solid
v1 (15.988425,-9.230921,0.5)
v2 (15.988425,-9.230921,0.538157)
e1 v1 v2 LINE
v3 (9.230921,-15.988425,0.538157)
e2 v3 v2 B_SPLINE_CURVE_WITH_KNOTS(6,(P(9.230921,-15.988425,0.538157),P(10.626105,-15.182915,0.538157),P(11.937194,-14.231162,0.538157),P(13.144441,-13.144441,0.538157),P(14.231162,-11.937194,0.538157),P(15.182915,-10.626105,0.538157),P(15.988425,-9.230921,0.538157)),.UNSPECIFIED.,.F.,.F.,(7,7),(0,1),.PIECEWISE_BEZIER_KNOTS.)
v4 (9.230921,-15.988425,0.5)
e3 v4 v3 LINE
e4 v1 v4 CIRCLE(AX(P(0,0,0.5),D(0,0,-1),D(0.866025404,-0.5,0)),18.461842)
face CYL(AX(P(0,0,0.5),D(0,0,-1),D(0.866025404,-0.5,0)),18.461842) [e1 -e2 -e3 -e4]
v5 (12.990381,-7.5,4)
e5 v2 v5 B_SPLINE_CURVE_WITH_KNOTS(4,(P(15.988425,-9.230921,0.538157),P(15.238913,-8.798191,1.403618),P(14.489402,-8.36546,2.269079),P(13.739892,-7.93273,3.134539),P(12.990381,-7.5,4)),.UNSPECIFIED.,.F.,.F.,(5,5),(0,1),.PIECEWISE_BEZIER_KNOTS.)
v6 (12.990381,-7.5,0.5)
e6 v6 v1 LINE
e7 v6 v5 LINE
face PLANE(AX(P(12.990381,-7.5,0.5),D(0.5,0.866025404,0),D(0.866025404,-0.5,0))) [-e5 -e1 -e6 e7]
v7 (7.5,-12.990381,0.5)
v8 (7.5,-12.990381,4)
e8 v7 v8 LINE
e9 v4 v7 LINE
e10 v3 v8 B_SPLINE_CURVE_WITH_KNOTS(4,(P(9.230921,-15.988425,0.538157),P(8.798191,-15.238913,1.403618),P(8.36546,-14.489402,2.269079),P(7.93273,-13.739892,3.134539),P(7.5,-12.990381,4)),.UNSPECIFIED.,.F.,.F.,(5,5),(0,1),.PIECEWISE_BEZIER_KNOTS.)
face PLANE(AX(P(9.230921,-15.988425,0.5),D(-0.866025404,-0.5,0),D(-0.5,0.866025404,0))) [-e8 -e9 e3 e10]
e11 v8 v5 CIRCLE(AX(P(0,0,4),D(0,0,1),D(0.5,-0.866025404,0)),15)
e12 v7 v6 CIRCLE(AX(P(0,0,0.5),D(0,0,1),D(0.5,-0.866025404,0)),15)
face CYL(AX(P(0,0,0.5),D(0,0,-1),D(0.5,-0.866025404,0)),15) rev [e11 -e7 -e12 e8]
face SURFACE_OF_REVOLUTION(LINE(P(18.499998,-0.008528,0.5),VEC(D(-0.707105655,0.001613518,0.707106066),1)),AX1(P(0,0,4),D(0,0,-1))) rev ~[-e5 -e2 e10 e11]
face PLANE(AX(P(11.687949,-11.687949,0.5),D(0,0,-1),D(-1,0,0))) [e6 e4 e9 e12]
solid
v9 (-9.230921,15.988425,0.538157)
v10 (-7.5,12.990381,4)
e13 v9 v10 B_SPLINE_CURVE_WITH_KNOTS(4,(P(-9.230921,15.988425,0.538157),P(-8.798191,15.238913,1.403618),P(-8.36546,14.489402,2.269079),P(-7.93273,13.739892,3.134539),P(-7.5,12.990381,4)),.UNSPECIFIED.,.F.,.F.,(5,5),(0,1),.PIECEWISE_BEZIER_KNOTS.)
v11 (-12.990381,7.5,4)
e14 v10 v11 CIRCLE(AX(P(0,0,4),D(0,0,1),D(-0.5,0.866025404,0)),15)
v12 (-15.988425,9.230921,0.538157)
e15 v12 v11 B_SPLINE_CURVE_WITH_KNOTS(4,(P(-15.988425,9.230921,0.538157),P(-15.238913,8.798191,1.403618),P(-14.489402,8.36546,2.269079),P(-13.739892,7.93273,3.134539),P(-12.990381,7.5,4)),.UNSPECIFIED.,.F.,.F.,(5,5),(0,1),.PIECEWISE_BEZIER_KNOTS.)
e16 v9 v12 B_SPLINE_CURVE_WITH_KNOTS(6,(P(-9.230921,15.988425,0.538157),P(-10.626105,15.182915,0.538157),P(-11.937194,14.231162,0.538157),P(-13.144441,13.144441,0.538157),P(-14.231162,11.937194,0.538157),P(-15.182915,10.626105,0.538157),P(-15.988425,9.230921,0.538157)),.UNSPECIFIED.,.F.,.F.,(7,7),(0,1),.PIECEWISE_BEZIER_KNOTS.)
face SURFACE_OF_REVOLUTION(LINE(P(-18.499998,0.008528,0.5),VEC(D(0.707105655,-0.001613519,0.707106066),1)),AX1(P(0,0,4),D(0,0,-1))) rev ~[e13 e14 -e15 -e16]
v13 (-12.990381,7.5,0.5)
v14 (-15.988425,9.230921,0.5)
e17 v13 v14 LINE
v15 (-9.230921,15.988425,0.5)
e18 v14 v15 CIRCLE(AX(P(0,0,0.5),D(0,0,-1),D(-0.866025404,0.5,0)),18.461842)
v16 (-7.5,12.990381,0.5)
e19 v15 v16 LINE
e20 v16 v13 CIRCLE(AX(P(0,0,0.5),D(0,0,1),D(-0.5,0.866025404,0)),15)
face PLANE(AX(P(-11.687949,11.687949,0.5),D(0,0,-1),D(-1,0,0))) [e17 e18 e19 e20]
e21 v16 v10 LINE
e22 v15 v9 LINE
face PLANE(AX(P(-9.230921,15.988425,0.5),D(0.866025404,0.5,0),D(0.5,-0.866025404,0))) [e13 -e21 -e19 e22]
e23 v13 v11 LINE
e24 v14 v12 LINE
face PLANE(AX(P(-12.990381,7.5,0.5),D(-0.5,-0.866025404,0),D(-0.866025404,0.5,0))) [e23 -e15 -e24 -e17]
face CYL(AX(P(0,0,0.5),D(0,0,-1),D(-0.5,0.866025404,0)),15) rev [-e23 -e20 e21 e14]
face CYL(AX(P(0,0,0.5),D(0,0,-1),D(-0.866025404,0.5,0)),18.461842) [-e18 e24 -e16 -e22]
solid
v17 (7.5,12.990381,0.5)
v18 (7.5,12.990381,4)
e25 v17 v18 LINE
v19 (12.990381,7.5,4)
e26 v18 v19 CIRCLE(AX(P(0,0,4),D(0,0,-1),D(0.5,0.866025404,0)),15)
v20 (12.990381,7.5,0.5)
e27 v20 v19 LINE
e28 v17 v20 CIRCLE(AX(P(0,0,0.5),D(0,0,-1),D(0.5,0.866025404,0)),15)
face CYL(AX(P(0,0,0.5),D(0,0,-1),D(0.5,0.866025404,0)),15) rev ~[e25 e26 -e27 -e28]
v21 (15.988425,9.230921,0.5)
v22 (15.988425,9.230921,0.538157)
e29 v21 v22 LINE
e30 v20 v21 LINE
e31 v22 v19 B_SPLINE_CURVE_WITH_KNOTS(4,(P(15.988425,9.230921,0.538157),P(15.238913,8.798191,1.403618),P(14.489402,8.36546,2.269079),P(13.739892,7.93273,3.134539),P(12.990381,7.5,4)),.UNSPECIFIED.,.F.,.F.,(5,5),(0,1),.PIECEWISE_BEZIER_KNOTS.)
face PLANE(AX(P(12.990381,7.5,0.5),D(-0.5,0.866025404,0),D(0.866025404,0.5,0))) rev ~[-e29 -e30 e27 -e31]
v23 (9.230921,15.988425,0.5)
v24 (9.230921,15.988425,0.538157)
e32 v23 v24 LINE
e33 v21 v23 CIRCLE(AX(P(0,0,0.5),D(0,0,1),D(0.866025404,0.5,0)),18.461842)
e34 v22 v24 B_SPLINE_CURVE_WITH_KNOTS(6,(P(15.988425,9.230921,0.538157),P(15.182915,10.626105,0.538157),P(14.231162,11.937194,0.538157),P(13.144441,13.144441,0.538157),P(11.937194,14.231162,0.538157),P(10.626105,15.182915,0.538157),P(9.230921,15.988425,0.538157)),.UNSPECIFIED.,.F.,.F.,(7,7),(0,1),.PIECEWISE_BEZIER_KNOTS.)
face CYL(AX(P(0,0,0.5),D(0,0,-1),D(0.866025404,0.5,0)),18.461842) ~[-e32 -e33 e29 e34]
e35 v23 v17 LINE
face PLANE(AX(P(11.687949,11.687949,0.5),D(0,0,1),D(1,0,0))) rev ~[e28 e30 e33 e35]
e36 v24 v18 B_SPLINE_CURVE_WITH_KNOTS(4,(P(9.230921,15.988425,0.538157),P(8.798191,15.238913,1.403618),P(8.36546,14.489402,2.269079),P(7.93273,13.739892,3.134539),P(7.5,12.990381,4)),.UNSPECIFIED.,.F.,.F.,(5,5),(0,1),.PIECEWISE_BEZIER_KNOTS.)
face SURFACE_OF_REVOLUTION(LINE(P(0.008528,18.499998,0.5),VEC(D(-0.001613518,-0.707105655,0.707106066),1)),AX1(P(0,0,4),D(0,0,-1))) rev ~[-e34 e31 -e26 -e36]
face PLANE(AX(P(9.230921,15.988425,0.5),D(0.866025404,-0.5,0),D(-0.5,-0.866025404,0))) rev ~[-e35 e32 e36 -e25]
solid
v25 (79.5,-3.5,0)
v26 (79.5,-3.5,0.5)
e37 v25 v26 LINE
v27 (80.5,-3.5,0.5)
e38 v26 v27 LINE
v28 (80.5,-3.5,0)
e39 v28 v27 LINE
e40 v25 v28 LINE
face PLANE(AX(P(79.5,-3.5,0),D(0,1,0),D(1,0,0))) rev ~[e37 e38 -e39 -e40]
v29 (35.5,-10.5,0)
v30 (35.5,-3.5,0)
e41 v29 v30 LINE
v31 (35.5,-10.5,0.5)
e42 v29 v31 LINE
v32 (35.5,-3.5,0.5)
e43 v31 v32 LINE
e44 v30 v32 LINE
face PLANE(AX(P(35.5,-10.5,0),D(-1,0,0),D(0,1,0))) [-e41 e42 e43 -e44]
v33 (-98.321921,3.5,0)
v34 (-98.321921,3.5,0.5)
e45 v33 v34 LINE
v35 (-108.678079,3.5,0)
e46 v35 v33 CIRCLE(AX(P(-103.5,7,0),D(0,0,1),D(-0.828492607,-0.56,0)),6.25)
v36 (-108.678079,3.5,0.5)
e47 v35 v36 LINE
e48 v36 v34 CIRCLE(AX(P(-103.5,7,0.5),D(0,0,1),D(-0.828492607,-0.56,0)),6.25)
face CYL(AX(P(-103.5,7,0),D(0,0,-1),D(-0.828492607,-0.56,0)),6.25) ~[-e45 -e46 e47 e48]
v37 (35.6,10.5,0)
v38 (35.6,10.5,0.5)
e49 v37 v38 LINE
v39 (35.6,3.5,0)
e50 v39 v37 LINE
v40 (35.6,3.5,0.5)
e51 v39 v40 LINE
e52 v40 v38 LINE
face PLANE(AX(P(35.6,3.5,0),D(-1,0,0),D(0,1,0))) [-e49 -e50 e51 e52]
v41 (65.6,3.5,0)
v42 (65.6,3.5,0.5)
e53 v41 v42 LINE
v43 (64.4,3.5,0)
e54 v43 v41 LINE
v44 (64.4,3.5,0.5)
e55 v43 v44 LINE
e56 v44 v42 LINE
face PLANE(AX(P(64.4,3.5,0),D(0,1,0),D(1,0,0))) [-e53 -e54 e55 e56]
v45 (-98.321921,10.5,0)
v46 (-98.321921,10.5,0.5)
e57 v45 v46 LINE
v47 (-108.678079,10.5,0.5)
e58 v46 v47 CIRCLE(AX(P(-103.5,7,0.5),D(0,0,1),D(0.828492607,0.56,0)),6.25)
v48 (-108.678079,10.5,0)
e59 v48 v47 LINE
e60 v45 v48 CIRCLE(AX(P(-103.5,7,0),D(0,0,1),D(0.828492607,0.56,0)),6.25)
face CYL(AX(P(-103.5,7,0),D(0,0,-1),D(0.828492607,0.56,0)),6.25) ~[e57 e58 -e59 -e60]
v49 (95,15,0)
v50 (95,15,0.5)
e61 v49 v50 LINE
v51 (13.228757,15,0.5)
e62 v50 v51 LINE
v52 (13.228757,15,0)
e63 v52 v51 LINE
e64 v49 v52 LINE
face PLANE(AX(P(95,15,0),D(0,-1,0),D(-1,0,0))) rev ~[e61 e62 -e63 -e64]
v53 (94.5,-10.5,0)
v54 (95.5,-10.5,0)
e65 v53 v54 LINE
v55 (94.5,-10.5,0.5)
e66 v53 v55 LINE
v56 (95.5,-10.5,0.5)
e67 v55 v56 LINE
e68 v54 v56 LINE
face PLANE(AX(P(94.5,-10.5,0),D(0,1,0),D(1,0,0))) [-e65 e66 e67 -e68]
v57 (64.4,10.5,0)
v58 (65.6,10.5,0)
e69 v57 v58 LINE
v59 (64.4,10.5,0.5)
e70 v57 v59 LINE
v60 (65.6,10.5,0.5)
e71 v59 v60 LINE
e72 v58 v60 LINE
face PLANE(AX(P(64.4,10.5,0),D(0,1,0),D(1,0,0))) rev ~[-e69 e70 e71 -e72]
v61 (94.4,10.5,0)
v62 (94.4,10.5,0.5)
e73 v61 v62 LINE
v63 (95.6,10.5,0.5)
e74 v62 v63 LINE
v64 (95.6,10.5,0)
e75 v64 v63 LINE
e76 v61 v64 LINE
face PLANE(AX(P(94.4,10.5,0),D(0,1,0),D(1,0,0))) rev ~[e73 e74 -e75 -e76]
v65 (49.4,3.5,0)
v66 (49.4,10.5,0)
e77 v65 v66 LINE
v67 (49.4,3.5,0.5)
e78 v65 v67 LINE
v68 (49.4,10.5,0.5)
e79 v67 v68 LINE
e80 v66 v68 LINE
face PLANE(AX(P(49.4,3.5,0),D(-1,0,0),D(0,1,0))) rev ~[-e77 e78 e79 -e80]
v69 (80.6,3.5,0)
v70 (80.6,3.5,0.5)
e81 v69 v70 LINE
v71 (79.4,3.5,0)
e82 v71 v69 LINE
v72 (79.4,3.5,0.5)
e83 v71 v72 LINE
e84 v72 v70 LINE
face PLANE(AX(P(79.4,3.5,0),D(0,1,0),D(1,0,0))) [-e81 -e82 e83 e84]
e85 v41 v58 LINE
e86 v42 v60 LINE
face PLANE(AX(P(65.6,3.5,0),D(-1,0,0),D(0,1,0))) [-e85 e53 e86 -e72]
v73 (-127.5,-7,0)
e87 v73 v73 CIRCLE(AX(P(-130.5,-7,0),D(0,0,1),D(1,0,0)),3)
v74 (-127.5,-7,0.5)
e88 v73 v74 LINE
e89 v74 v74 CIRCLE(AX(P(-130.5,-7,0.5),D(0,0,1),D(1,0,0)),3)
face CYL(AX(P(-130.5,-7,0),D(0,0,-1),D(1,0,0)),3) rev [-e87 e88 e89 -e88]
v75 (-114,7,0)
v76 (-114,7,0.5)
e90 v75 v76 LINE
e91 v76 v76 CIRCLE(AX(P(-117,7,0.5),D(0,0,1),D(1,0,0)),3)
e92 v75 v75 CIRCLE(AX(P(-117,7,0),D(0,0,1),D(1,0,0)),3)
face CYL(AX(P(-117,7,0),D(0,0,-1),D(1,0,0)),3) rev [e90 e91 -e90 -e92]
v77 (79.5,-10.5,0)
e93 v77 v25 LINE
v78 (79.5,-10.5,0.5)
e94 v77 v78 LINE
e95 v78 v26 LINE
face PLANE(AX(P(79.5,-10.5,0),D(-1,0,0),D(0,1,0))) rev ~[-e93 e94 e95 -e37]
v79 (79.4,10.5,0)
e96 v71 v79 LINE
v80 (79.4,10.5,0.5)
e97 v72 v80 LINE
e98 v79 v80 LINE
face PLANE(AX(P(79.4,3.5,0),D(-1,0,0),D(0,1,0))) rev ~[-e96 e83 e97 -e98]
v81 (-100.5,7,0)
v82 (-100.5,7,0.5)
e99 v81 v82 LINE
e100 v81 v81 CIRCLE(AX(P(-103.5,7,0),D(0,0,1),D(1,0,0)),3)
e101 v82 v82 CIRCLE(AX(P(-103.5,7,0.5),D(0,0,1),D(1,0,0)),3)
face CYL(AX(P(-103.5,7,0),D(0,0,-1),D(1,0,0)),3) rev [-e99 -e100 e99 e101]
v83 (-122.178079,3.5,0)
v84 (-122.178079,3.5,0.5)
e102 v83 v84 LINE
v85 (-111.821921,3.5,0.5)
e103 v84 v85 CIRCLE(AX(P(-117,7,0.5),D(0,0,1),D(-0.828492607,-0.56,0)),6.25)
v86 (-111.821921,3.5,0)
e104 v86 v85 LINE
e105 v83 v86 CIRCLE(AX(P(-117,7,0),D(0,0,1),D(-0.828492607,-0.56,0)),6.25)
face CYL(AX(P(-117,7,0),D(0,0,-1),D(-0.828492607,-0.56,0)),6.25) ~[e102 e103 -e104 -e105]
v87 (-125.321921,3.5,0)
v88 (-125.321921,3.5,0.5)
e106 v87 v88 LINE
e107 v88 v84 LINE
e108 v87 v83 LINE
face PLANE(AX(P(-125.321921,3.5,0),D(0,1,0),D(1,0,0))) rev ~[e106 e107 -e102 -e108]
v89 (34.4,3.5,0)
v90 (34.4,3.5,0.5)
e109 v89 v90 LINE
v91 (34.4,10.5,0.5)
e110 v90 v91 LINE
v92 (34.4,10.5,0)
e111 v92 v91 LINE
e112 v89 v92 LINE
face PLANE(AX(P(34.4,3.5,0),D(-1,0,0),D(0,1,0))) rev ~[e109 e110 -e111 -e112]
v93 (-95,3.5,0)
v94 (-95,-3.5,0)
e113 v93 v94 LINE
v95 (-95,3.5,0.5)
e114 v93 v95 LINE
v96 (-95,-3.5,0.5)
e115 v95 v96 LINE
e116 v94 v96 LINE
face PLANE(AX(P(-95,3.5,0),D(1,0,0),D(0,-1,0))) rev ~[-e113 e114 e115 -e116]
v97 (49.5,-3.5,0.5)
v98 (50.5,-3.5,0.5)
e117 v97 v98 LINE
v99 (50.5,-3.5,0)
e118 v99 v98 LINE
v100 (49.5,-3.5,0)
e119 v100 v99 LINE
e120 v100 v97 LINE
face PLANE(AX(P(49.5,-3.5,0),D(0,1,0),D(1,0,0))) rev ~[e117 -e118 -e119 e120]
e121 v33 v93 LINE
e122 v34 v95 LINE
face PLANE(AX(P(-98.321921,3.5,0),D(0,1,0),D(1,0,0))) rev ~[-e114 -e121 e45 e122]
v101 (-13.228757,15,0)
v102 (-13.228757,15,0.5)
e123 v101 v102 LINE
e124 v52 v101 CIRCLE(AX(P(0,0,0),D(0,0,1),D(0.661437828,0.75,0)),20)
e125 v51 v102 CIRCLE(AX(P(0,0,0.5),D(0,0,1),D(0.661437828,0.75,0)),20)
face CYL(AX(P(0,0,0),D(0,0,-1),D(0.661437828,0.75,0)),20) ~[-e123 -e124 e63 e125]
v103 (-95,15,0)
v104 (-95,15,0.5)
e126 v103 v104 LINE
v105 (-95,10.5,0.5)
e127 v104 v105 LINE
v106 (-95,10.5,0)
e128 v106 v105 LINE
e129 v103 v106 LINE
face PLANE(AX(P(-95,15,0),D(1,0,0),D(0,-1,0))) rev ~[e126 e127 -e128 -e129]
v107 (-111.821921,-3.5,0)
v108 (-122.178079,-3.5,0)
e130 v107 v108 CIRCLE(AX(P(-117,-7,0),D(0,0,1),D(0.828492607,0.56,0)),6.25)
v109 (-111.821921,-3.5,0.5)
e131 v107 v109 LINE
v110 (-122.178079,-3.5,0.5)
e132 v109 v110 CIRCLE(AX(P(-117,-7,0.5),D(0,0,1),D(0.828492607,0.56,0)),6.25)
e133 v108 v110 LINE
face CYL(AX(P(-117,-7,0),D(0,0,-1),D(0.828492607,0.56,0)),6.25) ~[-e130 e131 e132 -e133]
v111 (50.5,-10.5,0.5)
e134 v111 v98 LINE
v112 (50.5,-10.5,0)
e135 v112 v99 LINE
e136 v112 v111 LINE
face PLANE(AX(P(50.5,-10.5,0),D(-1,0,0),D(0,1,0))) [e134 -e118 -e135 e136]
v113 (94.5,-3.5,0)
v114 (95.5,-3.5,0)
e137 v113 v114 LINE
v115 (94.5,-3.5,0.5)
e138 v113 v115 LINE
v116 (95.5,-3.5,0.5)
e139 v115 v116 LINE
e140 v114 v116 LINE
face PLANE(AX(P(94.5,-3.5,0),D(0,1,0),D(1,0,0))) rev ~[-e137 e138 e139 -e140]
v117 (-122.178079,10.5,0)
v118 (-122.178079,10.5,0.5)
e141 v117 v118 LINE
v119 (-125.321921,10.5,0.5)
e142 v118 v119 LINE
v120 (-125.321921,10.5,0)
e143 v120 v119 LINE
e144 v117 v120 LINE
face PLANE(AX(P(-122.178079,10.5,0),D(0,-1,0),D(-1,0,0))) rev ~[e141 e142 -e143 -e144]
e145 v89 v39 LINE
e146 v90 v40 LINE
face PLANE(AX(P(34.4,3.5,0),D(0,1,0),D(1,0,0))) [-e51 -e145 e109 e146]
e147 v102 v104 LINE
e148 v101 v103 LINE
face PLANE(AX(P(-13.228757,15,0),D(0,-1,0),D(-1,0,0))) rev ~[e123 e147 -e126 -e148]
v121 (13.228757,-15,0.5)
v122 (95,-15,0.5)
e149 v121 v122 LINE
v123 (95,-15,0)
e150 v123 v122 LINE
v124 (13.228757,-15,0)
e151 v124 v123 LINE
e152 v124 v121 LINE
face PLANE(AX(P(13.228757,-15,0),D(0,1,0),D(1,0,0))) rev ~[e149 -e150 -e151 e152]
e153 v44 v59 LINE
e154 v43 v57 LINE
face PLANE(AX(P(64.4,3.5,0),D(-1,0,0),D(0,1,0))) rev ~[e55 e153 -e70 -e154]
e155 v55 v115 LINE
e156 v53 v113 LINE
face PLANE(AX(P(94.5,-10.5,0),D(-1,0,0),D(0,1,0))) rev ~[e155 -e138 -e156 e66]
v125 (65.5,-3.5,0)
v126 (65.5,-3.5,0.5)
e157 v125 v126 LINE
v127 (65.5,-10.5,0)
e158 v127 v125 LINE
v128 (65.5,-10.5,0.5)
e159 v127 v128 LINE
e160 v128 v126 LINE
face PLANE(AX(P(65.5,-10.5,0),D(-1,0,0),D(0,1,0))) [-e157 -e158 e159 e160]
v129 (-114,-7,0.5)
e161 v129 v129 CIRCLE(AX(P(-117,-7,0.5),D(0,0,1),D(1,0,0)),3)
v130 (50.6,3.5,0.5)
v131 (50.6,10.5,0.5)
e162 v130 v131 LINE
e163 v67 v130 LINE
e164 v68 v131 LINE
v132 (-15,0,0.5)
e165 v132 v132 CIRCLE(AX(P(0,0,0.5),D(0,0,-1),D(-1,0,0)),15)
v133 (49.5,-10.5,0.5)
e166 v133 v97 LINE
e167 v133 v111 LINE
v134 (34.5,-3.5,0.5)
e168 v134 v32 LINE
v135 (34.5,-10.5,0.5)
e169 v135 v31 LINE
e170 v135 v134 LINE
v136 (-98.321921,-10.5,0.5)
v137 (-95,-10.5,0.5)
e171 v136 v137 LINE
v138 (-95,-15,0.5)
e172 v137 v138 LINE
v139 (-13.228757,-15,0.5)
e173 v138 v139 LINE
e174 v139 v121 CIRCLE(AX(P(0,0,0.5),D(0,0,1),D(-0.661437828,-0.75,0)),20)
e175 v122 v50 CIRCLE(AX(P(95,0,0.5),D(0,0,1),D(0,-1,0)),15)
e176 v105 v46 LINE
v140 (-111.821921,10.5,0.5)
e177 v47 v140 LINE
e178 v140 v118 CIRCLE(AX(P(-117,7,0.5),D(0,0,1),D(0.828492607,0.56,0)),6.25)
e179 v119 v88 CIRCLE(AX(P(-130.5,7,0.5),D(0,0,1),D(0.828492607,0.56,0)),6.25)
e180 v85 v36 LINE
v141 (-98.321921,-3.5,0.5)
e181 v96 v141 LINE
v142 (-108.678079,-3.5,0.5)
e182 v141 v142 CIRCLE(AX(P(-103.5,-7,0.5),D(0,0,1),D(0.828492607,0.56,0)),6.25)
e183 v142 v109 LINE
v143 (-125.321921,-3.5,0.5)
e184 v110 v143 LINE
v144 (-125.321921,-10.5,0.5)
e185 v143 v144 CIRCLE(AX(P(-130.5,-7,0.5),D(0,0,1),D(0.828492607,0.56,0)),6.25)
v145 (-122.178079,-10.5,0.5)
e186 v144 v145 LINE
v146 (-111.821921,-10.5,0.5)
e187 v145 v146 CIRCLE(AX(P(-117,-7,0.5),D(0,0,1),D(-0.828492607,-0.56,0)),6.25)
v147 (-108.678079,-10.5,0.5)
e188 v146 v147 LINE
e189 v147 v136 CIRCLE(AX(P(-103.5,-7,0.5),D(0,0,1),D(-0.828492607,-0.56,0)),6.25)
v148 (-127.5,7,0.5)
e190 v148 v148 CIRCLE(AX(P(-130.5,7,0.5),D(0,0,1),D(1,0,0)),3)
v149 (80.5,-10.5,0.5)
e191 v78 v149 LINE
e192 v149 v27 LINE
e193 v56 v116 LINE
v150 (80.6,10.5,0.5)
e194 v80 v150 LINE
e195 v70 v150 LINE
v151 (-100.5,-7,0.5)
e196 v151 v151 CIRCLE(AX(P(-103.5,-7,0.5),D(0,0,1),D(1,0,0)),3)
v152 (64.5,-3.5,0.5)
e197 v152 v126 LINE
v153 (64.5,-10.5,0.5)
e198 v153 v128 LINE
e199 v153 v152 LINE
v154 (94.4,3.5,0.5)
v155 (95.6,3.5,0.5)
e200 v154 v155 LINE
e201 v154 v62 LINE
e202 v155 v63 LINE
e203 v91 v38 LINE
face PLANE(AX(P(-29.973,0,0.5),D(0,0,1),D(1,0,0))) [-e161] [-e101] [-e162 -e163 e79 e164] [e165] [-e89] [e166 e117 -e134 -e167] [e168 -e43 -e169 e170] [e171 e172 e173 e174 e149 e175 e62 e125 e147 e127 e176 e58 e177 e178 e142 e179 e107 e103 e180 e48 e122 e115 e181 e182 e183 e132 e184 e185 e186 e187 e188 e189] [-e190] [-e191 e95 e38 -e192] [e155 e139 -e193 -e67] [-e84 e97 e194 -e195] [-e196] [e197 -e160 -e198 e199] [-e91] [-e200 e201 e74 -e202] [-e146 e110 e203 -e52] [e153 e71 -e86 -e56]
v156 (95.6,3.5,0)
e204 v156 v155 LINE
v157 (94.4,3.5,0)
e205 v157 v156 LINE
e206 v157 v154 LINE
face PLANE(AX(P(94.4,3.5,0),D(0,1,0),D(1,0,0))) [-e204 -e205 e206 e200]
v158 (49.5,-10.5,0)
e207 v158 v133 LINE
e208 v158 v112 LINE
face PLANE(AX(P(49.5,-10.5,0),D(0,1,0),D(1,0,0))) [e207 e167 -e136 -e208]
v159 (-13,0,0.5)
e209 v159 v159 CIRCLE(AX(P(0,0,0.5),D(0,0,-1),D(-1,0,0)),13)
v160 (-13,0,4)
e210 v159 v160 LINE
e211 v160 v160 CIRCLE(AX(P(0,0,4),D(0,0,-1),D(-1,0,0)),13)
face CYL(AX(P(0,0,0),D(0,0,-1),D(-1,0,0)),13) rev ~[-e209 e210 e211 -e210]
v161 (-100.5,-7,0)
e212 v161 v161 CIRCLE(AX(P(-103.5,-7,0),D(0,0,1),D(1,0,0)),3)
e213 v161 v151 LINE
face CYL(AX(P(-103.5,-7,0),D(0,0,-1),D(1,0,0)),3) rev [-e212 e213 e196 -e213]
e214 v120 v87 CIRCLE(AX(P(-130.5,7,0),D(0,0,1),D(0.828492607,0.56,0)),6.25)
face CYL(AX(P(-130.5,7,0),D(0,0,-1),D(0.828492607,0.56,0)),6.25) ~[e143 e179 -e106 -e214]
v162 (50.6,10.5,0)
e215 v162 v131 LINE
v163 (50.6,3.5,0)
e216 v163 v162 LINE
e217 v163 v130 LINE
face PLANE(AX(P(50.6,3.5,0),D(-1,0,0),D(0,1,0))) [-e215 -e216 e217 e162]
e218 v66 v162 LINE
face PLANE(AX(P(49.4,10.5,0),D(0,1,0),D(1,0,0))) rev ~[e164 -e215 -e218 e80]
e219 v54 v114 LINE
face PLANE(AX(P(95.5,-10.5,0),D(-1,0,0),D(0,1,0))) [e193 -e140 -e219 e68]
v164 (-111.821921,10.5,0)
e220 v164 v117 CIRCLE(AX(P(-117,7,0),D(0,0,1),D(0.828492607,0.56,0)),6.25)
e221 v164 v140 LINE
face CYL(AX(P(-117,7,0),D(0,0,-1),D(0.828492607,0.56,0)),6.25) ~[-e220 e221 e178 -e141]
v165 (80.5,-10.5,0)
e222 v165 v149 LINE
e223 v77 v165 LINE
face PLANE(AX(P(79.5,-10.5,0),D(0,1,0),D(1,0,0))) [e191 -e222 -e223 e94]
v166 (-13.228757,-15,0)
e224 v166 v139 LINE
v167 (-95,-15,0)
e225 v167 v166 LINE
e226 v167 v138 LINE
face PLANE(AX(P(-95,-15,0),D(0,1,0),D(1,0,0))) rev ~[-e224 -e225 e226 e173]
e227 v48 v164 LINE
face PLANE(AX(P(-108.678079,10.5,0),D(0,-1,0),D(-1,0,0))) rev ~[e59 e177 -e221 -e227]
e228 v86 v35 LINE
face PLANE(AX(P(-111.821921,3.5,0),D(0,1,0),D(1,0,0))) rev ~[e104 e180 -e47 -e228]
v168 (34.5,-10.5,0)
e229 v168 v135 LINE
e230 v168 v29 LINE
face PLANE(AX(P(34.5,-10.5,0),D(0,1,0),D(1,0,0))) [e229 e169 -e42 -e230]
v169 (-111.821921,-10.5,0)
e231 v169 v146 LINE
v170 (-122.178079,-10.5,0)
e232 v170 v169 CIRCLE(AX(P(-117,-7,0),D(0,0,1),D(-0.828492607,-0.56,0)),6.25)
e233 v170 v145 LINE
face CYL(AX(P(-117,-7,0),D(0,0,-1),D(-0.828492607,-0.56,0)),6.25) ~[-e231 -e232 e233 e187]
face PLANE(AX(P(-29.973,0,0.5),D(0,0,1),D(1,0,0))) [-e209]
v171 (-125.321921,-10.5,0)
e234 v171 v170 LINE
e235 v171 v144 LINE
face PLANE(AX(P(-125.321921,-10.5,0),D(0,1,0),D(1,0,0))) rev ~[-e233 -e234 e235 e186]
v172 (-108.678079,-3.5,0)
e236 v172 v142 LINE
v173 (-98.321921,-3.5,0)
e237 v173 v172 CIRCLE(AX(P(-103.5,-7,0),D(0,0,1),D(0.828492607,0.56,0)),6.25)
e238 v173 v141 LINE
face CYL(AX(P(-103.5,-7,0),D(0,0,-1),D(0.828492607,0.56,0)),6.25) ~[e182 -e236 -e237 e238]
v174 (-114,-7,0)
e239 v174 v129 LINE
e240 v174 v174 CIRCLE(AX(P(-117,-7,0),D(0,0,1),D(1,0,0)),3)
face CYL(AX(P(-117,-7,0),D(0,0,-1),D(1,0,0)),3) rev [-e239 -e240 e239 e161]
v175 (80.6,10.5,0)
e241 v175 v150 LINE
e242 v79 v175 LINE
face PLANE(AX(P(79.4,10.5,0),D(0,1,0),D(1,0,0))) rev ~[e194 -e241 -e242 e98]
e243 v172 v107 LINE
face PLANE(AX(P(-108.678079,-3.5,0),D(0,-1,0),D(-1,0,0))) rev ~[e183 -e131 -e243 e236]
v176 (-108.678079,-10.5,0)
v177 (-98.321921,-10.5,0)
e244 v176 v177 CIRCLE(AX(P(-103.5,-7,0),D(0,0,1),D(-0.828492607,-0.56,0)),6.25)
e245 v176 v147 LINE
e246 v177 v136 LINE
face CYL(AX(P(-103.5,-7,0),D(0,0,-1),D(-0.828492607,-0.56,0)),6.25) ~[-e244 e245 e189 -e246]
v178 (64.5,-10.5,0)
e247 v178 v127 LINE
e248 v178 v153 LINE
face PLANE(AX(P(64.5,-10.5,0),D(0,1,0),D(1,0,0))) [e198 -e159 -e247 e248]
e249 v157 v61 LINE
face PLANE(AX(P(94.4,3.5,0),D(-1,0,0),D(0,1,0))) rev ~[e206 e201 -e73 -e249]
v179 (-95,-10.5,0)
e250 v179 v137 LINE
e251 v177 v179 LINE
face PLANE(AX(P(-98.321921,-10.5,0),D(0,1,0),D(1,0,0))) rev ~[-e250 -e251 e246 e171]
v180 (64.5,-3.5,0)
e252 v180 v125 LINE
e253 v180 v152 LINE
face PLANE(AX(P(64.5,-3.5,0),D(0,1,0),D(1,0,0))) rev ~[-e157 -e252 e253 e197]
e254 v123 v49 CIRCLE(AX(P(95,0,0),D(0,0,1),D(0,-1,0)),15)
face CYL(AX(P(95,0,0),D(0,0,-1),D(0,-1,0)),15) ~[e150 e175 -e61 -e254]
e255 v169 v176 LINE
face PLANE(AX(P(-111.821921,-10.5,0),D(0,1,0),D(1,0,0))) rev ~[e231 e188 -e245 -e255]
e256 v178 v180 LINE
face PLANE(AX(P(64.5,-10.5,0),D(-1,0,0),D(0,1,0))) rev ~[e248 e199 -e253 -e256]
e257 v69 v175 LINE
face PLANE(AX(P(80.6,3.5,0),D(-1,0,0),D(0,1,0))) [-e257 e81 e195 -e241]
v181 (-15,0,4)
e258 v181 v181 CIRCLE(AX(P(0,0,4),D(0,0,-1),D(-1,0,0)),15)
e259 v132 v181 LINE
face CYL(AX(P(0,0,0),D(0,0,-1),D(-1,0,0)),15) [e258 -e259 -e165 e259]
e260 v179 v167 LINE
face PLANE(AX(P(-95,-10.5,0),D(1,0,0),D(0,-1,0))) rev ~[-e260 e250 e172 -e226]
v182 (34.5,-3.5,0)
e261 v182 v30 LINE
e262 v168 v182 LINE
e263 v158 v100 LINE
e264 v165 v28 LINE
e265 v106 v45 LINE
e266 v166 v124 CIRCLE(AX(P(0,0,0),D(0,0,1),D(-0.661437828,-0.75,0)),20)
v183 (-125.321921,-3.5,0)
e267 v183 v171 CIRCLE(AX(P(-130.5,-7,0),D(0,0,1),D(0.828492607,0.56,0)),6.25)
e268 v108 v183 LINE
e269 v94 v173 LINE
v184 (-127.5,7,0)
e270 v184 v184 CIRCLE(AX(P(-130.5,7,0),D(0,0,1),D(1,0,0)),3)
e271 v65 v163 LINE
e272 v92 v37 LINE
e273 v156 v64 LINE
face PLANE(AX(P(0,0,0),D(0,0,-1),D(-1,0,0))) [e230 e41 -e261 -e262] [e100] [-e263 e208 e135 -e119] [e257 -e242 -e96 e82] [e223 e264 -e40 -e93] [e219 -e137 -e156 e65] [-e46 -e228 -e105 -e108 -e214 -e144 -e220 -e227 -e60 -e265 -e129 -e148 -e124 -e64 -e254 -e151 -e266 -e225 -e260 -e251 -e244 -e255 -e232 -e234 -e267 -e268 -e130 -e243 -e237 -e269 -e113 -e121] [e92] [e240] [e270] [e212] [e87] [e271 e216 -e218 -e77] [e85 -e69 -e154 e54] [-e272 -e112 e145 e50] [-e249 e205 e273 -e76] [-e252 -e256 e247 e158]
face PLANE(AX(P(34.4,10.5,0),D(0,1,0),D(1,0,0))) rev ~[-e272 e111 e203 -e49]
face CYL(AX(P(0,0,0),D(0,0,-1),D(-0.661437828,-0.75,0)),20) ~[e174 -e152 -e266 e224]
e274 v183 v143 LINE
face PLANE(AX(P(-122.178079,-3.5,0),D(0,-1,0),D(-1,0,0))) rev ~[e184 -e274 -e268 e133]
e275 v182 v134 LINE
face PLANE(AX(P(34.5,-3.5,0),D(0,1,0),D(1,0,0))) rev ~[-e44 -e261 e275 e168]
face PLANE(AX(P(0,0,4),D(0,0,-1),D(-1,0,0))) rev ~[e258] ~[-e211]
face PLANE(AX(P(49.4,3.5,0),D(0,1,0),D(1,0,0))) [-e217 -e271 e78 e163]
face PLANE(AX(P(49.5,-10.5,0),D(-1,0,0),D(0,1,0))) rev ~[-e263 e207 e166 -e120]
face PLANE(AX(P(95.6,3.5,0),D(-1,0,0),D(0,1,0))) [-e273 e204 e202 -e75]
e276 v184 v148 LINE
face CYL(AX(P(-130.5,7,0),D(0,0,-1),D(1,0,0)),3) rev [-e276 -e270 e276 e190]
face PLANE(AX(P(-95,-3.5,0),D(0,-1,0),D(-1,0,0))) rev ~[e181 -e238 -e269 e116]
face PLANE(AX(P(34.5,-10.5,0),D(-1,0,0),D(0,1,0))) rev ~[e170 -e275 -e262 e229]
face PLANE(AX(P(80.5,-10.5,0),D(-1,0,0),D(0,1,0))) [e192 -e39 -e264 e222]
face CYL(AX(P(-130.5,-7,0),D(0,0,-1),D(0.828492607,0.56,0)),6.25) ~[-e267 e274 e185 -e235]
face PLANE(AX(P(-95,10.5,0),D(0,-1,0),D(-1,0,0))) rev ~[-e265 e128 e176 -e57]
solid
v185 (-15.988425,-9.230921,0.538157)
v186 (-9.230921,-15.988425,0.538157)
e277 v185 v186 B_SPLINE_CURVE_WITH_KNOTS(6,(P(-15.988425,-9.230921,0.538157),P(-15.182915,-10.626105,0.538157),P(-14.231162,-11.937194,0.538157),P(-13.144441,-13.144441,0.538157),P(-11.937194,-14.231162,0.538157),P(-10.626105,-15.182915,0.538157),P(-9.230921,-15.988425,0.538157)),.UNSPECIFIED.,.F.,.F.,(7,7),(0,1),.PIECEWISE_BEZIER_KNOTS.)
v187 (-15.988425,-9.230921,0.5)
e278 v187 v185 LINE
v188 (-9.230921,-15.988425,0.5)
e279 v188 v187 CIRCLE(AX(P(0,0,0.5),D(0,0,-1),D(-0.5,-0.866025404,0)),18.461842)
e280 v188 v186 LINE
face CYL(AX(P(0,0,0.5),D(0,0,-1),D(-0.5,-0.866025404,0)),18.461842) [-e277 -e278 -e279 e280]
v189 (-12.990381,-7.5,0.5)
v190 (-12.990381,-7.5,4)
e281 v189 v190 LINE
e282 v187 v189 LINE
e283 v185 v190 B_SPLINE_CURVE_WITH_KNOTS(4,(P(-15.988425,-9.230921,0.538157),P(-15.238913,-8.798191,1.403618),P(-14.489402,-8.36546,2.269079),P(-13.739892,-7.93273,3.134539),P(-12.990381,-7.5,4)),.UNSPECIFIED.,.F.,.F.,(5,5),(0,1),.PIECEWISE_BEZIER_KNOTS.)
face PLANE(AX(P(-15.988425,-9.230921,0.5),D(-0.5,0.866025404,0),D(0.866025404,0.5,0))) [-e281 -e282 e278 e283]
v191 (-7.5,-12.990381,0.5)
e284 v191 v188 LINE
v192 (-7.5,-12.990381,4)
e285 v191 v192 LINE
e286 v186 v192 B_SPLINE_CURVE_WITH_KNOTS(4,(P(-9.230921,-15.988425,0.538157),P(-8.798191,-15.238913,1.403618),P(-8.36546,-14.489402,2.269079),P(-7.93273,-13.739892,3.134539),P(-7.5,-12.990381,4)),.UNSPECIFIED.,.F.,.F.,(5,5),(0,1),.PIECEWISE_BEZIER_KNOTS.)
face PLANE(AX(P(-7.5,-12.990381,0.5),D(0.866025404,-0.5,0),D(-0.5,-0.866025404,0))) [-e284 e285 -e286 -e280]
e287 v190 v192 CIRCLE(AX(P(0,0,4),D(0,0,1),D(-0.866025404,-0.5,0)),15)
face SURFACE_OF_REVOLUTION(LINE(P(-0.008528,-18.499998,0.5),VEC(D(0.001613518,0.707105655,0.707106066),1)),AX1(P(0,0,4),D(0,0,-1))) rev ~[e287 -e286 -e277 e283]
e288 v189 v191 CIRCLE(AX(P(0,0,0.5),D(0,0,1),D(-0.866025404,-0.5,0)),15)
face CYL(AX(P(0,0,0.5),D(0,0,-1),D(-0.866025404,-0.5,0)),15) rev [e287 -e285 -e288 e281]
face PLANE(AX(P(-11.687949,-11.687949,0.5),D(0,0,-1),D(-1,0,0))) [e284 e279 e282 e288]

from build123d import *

# Parameters (mm, degrees)
SKETCH_1_R        = 3
SKETCH_1_W        = 1
SKETCH_1_H        = 7
SKETCH_1_W_2      = 1.2
EXTRUDE_2_DEPTH   = 0.5
SKETCH_3_R        = 15
SKETCH_3_R_2      = 13
EXTRUDE_3_DEPTH   = 4
EXTRUDE_4_DEPTH   = 3.5
EXTRUDE_4_2_DEPTH = 3.5
EXTRUDE_4_3_DEPTH = 3.5
EXTRUDE_4_4_DEPTH = 3.5


with BuildPart() as part:
    # Эскиз1 → Бобышка-Вытянуть2 (new body)
    with BuildSketch(Plane.XY):
        with BuildLine():
            Line((95, 15), (13.228756555, 15))
            ThreePointArc((13.228756555, 15), (0, 20), (-13.228756555, 15))
            Line((-13.228756555, 15), (-95, 15))
            Line((-95, 15), (-95, 10.5))
            Line((-95, 10.5), (-98.321921206, 10.5))
            ThreePointArc((-98.321921206, 10.5), (-103.5, 13.25), (-108.678078794, 10.5))
            Line((-108.678078794, 10.5), (-111.821921206, 10.5))
            ThreePointArc((-111.821921206, 10.5), (-117, 13.25), (-122.178078794, 10.5))
            Line((-122.178078794, 10.5), (-125.321921206, 10.5))
            ThreePointArc((-125.321921206, 10.5), (-136.75, 7), (-125.321921206, 3.5))
            Line((-125.321921206, 3.5), (-122.178078794, 3.5))
            ThreePointArc((-122.178078794, 3.5), (-117, 0.75), (-111.821921206, 3.5))
            Line((-111.821921206, 3.5), (-108.678078794, 3.5))
            ThreePointArc((-108.678078794, 3.5), (-103.5, 0.75), (-98.321921206, 3.5))
            Line((-98.321921206, 3.5), (-95, 3.5))
            Line((-95, 3.5), (-95, -3.5))
            Line((-95, -3.5), (-98.321921206, -3.5))
            ThreePointArc((-98.321921206, -3.5), (-103.5, -0.75), (-108.678078794, -3.5))
            Line((-108.678078794, -3.5), (-111.821921206, -3.5))
            ThreePointArc((-111.821921206, -3.5), (-117, -0.75), (-122.178078794, -3.5))
            Line((-122.178078794, -3.5), (-125.321921206, -3.5))
            ThreePointArc((-125.321921206, -3.5), (-136.75, -7), (-125.321921206, -10.5))
            Line((-125.321921206, -10.5), (-122.178078794, -10.5))
            ThreePointArc((-122.178078794, -10.5), (-117, -13.25), (-111.821921206, -10.5))
            Line((-111.821921206, -10.5), (-108.678078794, -10.5))
            ThreePointArc((-108.678078794, -10.5), (-103.5, -13.25), (-98.321921206, -10.5))
            Line((-98.321921206, -10.5), (-95, -10.5))
            Line((-95, -10.5), (-95, -15))
            Line((-95, -15), (-13.228756555, -15))
            ThreePointArc((-13.228756555, -15), (0, -20), (13.228756555, -15))
            Line((13.228756555, -15), (95, -15))
            ThreePointArc((95, -15), (110, 0), (95, 15))
        make_face()
        with Locations((-130.5, -7)):
            Circle(SKETCH_1_R, mode=Mode.SUBTRACT)
        with Locations((-117, -7)):
            Circle(SKETCH_1_R, mode=Mode.SUBTRACT)
        with Locations((-103.5, -7)):
            Circle(SKETCH_1_R, mode=Mode.SUBTRACT)
        with Locations((35, -7)):
            Rectangle(SKETCH_1_W, SKETCH_1_H, mode=Mode.SUBTRACT)
        with Locations((50, -7)):
            Rectangle(SKETCH_1_W, SKETCH_1_H, mode=Mode.SUBTRACT)
        with Locations((65, -7)):
            Rectangle(SKETCH_1_W, SKETCH_1_H, mode=Mode.SUBTRACT)
        with Locations((80, -7)):
            Rectangle(SKETCH_1_W, SKETCH_1_H, mode=Mode.SUBTRACT)
        with Locations((95, -7)):
            Rectangle(SKETCH_1_W, SKETCH_1_H, mode=Mode.SUBTRACT)
        with Locations((-130.5, 7)):
            Circle(SKETCH_1_R, mode=Mode.SUBTRACT)
        with Locations((-117, 7)):
            Circle(SKETCH_1_R, mode=Mode.SUBTRACT)
        with Locations((-103.5, 7)):
            Circle(SKETCH_1_R, mode=Mode.SUBTRACT)
        with Locations((35, 7)):
            Rectangle(SKETCH_1_W_2, SKETCH_1_H, mode=Mode.SUBTRACT)
        with Locations((50, 7)):
            Rectangle(SKETCH_1_W_2, SKETCH_1_H, mode=Mode.SUBTRACT)
        with Locations((65, 7)):
            Rectangle(SKETCH_1_W_2, SKETCH_1_H, mode=Mode.SUBTRACT)
        with Locations((80, 7)):
            Rectangle(SKETCH_1_W_2, SKETCH_1_H, mode=Mode.SUBTRACT)
        with Locations((95, 7)):
            Rectangle(SKETCH_1_W_2, SKETCH_1_H, mode=Mode.SUBTRACT)
    extrude(amount=EXTRUDE_2_DEPTH)

    # Эскиз3 → Бобышка-Вытянуть3 (add)
    with BuildSketch(Plane(origin=(0, 0, 0), x_dir=(-1, 0, 0), z_dir=(0, 0, -1))):
        Circle(SKETCH_3_R)
        Circle(SKETCH_3_R_2, mode=Mode.SUBTRACT)
    extrude(amount=-EXTRUDE_3_DEPTH)


with BuildPart() as body_2:
    # Эскиз8 → Бобышка-Вытянуть4 (new body)
    with BuildSketch(Plane.XY.offset(0.5)):
        with BuildLine():
            Line((12.990381057, 7.5), (15.988424537, 9.23092121))
            ThreePointArc((15.988424537, 9.23092121), (13.054493969, 13.054493969), (9.23092121, 15.988424537))
            Line((9.23092121, 15.988424537), (7.5, 12.990381057))
            ThreePointArc((7.5, 12.990381057), (10.606601718, 10.606601718), (12.990381057, 7.5))
        make_face()
    extrude(amount=EXTRUDE_4_DEPTH)


with BuildPart() as body_3:
    # Эскиз8 → Extrude 4 2 (new body)
    with BuildSketch(Plane.XY.offset(0.5)):
        with BuildLine():
            ThreePointArc((7.5, -12.990381057), (10.606601718, -10.606601718), (12.990381057, -7.5))
            Line((12.990381057, -7.5), (15.988424537, -9.23092121))
            ThreePointArc((15.988424537, -9.23092121), (13.054493969, -13.054493969), (9.23092121, -15.988424537))
            Line((9.23092121, -15.988424537), (7.5, -12.990381057))
        make_face()
    extrude(amount=EXTRUDE_4_2_DEPTH)


with BuildPart() as body_4:
    # Эскиз8 → Extrude 4 3 (new body)
    with BuildSketch(Plane.XY.offset(0.5)):
        with BuildLine():
            ThreePointArc((-12.990381057, -7.5), (-10.606601718, -10.606601718), (-7.5, -12.990381057))
            Line((-7.5, -12.990381057), (-9.23092121, -15.988424537))
            ThreePointArc((-9.23092121, -15.988424537), (-13.054493969, -13.054493969), (-15.988424537, -9.23092121))
            Line((-15.988424537, -9.23092121), (-12.990381057, -7.5))
        make_face()
    extrude(amount=EXTRUDE_4_3_DEPTH)


with BuildPart() as body_5:
    # Эскиз8 → Extrude 4 4 (new body)
    with BuildSketch(Plane.XY.offset(0.5)):
        with BuildLine():
            ThreePointArc((-7.5, 12.990381057), (-10.606601718, 10.606601718), (-12.990381057, 7.5))
            Line((-12.990381057, 7.5), (-15.988424537, 9.23092121))
            ThreePointArc((-15.988424537, 9.23092121), (-13.054493969, 13.054493969), (-9.23092121, 15.988424537))
            Line((-9.23092121, 15.988424537), (-7.5, 12.990381057))
        make_face()
    extrude(amount=EXTRUDE_4_4_DEPTH)


with BuildPart() as sweep_1_tool:
    # Вырез-По траектории1: sweep along a curve in space
    with BuildLine() as sweep_1_path:
        ThreePointArc((-13, 0, 4), (-9.192388155, 9.192388155, 4), (0, 13, 4))
        ThreePointArc((0, 13, 4), (9.192388155, 9.192388155, 4), (13, 0, 4))
        ThreePointArc((13, 0, 4), (9.192388155, -9.192388155, 4), (0, -13, 4))
        ThreePointArc((0, -13, 4), (-9.192388155, -9.192388155, 4), (-13, 0, 4))
    # Sketch 2 → Вырез-По траектории1 (sweep)
    with BuildSketch(Plane(origin=(17.656340523, 5.523009727, 0.5), x_dir=(-0.6752443953624955, -0.2098714313406492, 0.7071060661870786), z_dir=(-0.29872202469959164, 0.9543380466699508, -0.0020111284293495265))):
        Polygon((0, 0), (4.949752473, 0), (2.474881242, 2.474876237), align=None)
    sweep(path=sweep_1_path.line)


with BuildPart() as body_2_1:
    add(body_2.part)

    # Вырез-По траектории1: cut by sweep_1_tool
    add(sweep_1_tool.part, mode=Mode.SUBTRACT)


with BuildPart() as body_3_1:
    add(body_3.part)

    # Вырез-По траектории1: cut by sweep_1_tool
    add(sweep_1_tool.part, mode=Mode.SUBTRACT)


with BuildPart() as body_4_1:
    add(body_4.part)

    # Вырез-По траектории1: cut by sweep_1_tool
    add(sweep_1_tool.part, mode=Mode.SUBTRACT)


with BuildPart() as body_5_1:
    add(body_5.part)

    # Вырез-По траектории1: cut by sweep_1_tool
    add(sweep_1_tool.part, mode=Mode.SUBTRACT)


solid = Compound([part.part, body_2_1.part, body_3_1.part, body_4_1.part, body_5_1.part])
